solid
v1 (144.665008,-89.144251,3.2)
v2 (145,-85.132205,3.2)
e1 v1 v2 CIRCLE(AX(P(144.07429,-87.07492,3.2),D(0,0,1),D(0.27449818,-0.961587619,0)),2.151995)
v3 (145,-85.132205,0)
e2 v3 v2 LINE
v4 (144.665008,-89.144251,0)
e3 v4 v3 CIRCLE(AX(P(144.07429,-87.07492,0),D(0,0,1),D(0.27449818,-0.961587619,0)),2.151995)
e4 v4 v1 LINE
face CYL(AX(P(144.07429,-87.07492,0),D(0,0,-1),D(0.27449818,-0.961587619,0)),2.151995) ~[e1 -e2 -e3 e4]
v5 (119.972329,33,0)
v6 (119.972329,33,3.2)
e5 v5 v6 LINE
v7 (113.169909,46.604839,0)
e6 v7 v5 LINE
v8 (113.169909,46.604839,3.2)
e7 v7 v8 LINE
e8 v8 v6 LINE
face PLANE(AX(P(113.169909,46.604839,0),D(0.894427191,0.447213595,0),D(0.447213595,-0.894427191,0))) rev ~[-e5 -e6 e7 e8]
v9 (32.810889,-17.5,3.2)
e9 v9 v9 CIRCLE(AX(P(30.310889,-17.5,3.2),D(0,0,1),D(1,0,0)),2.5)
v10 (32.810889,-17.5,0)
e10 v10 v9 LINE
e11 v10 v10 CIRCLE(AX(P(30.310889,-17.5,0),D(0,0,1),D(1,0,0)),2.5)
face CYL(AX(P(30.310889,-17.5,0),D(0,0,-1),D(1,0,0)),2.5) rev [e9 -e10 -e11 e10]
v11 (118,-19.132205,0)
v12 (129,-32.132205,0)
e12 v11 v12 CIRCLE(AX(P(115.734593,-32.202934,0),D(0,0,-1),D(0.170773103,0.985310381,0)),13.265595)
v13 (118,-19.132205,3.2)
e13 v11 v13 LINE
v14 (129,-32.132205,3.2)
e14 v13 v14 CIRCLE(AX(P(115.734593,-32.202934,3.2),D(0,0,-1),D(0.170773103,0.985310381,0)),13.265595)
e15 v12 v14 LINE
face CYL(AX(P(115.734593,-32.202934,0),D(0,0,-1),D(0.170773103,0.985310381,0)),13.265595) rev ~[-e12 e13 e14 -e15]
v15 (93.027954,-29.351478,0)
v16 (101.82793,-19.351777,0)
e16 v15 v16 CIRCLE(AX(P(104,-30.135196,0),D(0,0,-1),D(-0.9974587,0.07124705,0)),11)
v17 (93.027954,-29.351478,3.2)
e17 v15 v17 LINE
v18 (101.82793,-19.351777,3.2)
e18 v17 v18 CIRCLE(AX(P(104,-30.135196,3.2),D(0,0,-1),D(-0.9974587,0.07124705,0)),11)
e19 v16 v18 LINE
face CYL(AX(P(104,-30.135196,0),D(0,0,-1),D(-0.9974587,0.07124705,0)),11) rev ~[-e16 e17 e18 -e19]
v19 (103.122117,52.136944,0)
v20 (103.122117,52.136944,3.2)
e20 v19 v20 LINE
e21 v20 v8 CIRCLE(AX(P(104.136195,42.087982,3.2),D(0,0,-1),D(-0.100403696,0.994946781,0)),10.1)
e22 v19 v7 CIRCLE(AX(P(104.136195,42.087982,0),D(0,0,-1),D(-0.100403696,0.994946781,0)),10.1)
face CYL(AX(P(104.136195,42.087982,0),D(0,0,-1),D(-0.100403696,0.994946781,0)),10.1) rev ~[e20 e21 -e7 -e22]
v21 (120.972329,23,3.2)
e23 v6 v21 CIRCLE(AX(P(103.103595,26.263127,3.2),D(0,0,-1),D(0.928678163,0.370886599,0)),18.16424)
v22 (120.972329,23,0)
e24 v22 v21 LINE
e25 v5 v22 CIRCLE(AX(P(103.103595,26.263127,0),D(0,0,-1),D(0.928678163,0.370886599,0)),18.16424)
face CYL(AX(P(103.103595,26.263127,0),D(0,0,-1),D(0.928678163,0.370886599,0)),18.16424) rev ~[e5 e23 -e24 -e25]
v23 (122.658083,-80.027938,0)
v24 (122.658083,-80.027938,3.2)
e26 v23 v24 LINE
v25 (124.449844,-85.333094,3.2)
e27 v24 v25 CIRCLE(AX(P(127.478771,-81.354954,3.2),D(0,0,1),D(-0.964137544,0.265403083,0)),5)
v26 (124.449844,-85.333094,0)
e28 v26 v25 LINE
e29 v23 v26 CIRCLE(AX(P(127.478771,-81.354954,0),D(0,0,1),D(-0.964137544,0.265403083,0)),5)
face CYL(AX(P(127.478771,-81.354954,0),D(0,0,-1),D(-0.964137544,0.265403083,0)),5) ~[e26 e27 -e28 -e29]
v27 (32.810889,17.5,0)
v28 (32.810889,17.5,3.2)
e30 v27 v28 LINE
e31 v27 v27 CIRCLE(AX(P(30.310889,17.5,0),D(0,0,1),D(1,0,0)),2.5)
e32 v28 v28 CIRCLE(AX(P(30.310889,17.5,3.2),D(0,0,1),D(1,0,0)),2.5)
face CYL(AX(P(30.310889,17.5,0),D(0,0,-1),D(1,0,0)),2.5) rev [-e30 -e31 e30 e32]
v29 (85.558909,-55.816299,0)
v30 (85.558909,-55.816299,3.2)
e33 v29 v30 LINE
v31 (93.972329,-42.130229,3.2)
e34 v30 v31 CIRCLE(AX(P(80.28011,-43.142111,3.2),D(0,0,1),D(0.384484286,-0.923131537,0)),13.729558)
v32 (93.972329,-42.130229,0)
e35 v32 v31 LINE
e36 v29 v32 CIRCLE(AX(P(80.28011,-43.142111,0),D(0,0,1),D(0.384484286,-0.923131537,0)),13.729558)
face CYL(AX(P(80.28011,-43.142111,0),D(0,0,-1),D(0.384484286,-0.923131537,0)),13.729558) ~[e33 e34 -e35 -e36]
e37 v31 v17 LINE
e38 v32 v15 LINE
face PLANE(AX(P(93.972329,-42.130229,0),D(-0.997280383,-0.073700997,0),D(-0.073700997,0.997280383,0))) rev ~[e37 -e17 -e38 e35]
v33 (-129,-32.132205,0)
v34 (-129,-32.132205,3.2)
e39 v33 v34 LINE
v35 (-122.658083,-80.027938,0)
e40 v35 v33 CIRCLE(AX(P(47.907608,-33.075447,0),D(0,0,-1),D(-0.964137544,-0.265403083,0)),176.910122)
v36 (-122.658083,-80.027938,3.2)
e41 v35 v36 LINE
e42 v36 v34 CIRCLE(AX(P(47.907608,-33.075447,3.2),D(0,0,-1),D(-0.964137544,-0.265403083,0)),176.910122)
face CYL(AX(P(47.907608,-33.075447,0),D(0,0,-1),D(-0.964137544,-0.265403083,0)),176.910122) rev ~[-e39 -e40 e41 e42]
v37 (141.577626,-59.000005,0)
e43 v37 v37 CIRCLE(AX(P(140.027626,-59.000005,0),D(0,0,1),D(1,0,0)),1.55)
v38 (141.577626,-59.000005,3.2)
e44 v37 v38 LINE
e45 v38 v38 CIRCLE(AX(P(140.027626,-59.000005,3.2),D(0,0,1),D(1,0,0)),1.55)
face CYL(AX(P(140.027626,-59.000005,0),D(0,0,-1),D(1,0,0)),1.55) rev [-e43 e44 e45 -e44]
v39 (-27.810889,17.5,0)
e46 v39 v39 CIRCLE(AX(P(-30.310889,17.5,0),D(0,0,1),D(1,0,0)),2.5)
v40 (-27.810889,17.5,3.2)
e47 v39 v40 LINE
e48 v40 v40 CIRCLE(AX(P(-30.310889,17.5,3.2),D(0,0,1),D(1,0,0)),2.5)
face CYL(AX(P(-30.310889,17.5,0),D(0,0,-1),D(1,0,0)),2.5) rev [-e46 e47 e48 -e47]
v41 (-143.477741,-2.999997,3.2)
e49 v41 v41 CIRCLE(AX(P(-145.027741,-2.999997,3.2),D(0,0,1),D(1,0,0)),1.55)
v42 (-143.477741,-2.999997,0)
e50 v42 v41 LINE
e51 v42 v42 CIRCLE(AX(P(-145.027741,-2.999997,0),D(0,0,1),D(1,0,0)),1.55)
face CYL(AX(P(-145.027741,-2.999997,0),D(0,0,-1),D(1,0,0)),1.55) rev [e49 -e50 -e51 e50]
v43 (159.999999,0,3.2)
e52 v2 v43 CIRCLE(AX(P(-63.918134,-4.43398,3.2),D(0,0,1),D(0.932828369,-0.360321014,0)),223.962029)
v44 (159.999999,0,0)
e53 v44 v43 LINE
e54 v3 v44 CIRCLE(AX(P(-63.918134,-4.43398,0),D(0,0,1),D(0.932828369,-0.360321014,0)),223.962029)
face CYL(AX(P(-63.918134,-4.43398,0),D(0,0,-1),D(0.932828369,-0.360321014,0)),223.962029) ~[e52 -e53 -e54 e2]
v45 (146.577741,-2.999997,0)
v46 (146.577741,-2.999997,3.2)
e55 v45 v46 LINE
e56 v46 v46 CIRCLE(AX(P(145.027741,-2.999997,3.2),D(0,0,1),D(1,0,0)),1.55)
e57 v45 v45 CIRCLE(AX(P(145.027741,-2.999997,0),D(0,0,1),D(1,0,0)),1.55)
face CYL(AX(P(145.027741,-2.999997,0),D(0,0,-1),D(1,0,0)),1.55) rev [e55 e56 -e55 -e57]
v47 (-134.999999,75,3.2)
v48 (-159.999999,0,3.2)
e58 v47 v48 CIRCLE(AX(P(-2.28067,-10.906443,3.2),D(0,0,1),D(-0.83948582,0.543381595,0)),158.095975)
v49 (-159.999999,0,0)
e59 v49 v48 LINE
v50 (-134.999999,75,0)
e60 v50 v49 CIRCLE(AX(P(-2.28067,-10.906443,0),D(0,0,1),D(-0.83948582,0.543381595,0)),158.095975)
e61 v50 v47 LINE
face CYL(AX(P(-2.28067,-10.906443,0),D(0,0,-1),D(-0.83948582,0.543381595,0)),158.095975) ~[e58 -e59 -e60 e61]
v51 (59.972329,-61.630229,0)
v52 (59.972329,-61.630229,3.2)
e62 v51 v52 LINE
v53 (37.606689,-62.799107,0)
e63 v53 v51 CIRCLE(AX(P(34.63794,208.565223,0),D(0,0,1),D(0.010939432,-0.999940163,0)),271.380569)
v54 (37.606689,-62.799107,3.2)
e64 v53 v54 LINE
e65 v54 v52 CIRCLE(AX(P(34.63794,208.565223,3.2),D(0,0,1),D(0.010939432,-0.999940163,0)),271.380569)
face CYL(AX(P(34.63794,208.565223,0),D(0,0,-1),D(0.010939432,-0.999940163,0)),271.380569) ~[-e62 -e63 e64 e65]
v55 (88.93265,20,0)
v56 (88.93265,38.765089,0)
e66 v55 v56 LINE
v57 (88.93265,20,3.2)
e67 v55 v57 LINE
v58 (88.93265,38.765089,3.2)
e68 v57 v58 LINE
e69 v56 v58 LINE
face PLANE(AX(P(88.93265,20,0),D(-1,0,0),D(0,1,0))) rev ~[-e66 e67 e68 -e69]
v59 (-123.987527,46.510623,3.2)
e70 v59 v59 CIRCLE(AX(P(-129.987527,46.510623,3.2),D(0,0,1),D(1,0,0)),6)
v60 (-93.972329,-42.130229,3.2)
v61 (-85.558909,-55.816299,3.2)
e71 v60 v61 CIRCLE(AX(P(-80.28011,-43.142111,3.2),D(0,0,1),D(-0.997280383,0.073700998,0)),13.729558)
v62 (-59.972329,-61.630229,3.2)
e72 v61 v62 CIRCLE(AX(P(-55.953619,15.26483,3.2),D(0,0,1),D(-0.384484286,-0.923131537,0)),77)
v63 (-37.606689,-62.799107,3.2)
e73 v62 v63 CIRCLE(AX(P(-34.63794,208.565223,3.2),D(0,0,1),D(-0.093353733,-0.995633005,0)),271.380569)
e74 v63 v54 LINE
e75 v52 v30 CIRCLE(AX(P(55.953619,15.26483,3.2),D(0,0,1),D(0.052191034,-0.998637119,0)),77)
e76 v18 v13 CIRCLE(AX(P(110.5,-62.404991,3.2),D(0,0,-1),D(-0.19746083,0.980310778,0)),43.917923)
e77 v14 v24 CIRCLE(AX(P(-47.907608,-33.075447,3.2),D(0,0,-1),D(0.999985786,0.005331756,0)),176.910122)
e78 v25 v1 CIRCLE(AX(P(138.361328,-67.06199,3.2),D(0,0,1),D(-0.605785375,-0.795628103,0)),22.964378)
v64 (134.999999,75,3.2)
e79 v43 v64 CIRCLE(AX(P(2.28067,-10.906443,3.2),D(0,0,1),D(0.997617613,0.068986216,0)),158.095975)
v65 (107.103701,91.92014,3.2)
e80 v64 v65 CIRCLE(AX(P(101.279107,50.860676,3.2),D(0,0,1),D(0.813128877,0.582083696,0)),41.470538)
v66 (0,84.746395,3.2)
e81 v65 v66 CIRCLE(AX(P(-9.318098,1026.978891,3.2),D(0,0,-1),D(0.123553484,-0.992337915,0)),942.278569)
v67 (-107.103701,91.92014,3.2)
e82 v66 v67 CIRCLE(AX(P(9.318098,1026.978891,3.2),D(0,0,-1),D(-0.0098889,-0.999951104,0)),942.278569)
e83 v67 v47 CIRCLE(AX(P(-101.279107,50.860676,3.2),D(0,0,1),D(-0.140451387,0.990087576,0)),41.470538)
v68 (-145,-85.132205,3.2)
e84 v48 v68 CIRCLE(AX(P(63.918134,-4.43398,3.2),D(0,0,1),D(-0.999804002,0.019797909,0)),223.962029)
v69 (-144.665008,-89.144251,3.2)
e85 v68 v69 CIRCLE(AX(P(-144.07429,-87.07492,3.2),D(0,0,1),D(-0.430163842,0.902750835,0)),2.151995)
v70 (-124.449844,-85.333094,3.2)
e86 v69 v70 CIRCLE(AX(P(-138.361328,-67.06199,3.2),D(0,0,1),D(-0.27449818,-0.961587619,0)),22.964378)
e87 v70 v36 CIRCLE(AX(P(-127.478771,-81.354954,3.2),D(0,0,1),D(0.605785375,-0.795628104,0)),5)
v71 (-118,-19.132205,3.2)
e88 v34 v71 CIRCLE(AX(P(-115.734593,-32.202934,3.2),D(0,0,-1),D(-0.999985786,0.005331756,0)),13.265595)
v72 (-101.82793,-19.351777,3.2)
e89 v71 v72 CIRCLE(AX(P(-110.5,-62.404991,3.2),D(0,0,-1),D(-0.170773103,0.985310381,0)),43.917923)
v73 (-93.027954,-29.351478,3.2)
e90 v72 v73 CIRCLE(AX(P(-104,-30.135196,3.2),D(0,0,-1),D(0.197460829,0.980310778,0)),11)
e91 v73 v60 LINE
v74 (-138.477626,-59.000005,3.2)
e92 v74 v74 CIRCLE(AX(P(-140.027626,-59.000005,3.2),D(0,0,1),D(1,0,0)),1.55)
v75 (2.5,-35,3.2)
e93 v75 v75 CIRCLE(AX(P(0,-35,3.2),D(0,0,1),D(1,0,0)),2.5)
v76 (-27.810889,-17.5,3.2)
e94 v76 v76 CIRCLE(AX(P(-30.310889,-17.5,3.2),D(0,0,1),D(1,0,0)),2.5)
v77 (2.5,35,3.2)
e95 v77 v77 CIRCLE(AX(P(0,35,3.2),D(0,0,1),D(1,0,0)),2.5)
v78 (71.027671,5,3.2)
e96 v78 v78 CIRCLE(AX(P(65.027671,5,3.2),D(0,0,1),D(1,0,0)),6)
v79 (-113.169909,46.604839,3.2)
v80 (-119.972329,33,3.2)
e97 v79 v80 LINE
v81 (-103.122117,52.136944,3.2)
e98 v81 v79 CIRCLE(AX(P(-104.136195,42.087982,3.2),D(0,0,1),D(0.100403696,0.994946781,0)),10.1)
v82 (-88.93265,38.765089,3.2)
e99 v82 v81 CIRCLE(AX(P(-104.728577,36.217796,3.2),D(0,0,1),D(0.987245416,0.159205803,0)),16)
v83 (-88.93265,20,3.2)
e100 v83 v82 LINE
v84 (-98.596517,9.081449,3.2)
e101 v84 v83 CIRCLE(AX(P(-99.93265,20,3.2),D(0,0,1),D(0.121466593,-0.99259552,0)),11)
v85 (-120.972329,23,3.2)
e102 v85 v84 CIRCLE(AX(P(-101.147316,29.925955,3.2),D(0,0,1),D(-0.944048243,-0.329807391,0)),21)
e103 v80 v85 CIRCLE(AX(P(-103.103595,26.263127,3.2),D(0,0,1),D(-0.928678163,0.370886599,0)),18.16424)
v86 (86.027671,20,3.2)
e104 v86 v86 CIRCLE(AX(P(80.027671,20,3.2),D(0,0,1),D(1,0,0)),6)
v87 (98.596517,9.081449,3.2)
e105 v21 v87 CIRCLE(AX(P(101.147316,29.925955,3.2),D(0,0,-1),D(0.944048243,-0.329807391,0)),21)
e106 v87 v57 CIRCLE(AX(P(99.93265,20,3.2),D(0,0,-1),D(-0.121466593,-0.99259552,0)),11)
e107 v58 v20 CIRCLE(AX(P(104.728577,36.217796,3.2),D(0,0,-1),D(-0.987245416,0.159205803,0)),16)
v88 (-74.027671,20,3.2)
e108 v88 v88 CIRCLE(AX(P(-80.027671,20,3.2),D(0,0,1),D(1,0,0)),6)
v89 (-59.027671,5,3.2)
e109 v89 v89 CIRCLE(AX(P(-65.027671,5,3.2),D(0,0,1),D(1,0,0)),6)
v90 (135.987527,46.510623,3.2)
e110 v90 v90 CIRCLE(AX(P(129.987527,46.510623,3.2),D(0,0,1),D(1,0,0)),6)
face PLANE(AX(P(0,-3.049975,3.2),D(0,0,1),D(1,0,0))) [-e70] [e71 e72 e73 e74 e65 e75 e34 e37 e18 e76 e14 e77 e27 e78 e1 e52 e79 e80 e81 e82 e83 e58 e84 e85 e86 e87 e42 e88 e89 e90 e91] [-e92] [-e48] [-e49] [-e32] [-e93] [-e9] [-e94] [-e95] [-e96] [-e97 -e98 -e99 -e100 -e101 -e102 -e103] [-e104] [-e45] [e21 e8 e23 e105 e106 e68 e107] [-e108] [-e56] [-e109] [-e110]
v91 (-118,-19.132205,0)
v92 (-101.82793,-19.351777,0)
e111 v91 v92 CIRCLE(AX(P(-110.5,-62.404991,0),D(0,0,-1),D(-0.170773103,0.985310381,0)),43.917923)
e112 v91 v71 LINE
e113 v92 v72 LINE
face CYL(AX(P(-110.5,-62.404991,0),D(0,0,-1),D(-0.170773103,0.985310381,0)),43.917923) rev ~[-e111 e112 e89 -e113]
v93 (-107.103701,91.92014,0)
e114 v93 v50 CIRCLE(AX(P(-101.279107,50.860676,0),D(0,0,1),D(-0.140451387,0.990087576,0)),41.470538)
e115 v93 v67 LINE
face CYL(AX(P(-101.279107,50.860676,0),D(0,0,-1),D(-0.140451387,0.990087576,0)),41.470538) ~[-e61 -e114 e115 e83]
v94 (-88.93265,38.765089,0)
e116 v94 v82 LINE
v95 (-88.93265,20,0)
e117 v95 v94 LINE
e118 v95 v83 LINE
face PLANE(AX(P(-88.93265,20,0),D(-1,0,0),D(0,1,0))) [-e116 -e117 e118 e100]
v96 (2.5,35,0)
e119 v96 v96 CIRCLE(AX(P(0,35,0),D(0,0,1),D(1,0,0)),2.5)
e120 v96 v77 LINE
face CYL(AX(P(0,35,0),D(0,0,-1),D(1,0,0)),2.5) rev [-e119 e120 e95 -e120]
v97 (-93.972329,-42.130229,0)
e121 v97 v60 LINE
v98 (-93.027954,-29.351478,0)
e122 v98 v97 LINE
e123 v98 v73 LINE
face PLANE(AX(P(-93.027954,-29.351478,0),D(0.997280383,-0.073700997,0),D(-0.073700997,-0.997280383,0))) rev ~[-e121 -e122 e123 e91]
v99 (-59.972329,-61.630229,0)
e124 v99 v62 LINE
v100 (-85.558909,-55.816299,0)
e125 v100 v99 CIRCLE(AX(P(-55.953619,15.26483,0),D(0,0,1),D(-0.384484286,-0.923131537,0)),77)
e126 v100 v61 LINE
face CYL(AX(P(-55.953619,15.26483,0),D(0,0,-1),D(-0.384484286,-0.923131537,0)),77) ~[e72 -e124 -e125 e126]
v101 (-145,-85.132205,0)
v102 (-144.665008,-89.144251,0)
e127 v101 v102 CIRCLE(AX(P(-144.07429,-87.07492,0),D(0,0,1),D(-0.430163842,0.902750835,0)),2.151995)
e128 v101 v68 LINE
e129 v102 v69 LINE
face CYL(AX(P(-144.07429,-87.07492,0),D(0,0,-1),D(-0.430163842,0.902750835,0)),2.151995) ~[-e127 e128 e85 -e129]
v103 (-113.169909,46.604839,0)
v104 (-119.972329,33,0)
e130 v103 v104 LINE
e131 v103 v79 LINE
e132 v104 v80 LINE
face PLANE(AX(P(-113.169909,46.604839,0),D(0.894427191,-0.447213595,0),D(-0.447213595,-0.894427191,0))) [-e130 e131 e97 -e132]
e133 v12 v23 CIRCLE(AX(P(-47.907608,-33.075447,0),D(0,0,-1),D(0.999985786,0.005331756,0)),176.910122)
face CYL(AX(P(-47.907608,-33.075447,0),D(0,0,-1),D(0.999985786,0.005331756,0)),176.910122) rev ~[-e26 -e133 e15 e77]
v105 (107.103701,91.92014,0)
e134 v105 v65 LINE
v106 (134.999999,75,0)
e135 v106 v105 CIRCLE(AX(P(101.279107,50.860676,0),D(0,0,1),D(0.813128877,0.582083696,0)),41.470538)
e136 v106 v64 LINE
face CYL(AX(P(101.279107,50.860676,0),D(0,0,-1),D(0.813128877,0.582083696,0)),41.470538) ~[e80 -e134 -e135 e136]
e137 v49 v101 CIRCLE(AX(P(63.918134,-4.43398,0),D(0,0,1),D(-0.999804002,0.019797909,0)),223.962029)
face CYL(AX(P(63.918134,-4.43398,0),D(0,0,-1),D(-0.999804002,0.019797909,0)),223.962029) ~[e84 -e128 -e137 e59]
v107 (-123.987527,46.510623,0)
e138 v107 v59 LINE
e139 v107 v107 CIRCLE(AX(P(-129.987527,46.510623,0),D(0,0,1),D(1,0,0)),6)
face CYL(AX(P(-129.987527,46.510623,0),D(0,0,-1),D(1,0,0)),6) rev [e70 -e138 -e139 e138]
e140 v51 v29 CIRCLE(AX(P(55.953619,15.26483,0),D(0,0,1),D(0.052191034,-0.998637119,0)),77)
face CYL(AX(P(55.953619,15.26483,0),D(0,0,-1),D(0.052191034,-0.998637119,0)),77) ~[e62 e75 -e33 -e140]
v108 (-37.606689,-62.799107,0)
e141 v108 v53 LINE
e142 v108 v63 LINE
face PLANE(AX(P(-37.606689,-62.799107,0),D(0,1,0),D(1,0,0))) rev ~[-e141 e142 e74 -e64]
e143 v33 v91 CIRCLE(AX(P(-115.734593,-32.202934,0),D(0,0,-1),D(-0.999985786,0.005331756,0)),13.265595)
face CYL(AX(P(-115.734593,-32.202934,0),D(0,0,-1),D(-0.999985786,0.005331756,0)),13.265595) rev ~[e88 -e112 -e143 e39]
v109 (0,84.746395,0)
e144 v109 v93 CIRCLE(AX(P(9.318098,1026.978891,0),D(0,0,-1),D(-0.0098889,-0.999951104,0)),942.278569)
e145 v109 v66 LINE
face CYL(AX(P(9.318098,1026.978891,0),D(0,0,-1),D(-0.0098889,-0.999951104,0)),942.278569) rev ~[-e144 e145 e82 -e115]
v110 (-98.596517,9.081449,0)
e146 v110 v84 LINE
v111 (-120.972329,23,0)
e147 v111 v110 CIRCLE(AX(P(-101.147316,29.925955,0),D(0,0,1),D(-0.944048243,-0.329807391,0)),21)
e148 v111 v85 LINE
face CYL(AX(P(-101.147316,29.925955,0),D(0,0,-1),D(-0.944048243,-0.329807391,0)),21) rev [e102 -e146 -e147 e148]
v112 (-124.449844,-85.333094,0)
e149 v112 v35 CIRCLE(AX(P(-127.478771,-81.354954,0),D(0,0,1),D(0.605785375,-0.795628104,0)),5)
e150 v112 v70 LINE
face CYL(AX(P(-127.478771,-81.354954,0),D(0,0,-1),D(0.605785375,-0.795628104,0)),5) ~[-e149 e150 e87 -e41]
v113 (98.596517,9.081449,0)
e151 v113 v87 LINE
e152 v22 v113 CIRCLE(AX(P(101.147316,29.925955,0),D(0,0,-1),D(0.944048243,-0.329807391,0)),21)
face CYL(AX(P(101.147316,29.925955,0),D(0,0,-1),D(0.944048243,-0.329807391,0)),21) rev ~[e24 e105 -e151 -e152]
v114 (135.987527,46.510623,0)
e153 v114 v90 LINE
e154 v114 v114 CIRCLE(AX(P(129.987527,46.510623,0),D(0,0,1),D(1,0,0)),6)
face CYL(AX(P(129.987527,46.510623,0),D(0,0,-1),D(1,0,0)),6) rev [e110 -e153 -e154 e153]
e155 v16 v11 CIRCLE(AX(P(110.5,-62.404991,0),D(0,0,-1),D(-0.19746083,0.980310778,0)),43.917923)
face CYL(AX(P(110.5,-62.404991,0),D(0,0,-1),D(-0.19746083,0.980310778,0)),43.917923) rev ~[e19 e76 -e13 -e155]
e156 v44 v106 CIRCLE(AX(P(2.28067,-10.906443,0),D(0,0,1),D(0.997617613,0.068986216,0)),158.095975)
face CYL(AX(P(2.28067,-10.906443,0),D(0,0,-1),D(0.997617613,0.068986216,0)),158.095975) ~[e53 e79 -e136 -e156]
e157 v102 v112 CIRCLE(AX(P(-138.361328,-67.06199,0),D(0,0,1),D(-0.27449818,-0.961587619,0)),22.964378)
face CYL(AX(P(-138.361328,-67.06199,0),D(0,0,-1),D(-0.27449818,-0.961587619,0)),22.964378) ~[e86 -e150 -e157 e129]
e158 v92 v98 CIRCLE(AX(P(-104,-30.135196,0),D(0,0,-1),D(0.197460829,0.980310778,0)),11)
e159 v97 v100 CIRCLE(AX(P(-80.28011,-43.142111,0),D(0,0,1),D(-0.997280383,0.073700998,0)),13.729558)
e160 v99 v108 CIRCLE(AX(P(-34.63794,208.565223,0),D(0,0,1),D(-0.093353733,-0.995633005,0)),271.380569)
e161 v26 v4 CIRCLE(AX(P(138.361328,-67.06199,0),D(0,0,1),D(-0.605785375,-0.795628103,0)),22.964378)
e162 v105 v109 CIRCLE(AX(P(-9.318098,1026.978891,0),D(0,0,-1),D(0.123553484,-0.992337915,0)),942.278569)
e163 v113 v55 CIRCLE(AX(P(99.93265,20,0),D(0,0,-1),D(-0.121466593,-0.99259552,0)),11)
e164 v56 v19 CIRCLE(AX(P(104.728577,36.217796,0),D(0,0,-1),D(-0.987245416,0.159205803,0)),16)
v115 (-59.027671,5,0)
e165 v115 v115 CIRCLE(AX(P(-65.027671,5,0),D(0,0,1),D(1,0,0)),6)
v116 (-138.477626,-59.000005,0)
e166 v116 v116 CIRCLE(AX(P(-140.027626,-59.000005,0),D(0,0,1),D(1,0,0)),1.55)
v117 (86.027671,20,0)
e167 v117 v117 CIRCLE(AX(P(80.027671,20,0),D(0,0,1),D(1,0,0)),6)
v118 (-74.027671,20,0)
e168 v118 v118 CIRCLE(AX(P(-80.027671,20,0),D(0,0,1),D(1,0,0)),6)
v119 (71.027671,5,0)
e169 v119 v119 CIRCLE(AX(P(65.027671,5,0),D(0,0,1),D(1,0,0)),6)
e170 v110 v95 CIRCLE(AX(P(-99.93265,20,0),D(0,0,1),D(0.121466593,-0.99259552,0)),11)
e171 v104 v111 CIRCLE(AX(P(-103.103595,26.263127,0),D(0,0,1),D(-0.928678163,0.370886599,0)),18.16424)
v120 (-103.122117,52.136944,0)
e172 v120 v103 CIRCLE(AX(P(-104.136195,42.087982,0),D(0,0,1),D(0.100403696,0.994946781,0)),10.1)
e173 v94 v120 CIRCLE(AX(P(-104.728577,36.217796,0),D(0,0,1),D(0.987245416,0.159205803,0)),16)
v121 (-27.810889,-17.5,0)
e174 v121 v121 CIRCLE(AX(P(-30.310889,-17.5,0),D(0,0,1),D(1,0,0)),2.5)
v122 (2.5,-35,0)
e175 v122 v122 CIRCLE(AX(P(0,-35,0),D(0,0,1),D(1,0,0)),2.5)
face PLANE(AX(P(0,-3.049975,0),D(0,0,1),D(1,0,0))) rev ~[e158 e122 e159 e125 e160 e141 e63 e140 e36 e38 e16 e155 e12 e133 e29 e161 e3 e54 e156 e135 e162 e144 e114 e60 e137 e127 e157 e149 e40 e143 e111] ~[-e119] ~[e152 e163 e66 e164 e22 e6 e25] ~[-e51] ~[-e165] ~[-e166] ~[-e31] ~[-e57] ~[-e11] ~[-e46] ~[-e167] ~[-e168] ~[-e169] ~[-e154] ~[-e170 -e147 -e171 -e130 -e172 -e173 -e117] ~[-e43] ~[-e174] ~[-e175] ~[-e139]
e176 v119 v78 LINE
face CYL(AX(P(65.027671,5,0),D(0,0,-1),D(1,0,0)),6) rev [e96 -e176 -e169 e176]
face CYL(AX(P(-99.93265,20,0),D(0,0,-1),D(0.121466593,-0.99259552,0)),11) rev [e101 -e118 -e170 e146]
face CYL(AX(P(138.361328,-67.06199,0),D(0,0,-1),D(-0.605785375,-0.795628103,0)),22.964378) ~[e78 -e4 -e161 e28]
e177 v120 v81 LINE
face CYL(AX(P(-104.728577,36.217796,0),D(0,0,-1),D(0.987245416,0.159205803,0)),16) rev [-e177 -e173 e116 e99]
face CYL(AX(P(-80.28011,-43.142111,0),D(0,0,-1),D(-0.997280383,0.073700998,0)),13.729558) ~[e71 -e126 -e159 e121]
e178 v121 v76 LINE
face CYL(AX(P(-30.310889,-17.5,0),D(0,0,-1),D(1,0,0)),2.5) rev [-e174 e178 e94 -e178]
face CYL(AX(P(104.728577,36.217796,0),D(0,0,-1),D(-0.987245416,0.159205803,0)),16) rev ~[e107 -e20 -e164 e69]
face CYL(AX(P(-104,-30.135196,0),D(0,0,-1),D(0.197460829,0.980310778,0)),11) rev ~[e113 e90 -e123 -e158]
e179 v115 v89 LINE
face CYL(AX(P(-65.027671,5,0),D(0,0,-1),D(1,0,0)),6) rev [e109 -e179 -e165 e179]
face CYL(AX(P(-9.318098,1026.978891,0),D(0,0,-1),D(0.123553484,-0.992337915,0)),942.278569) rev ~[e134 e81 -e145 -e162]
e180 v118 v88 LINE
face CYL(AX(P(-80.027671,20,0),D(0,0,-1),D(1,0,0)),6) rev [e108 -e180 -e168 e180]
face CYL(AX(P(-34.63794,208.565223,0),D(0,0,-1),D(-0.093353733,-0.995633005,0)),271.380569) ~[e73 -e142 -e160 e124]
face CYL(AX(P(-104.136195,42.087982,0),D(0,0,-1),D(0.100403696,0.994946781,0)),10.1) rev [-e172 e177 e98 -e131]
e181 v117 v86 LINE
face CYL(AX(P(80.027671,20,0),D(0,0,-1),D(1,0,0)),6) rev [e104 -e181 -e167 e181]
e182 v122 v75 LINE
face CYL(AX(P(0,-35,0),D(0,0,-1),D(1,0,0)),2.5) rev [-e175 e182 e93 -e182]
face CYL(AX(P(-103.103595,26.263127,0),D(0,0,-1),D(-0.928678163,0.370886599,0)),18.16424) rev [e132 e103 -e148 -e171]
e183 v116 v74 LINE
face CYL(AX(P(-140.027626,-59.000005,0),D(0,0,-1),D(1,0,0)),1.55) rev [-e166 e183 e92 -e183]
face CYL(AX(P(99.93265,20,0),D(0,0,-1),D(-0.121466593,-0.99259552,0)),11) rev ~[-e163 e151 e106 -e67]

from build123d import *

# Parameters (mm, degrees)
SKETCH2_R           = 1.55
SKETCH2_R_2         = 6
SKETCH2_R_3         = 2.5
BOSS_EXTRUDE1_DEPTH = 3.2


with BuildPart() as part:
    # Sketch2 → Boss-Extrude1 (new body)
    with BuildSketch(Plane.XY):
        with BuildLine():
            Line((-37.606688888, -62.799107474), (37.606688888, -62.799107474))
            ThreePointArc((37.606688888, -62.799107474), (48.801571995, -62.445486831), (59.972328875, -61.630228563))
            ThreePointArc((59.972328875, -61.630228563), (73.015089975, -59.821162533), (85.558909279, -55.816298707))
            ThreePointArc((85.558909279, -55.816298707), (91.976349194, -50.332295109), (93.972328875, -42.130228563))
            Line((93.972328875, -42.130228563), (93.027953895, -29.351478281))
            ThreePointArc((93.027953895, -29.351478281), (95.742249073, -22.868177437), (101.827930469, -19.351777277))
            ThreePointArc((101.827930469, -19.351777277), (109.903770401, -18.491114916), (118, -19.132205072))
            ThreePointArc((118, -19.132205072), (125.861366739, -23.634125523), (129, -32.132205072))
            ThreePointArc((129, -32.132205072), (127.471762842, -56.297585918), (122.65808311, -80.027938374))
            ThreePointArc((122.65808311, -80.027938374), (122.741653332, -82.9548656), (124.449843954, -85.333094304))
            ThreePointArc((124.449843954, -85.333094304), (134.106812923, -89.628818458), (144.665008336, -89.144251365))
            ThreePointArc((144.665008336, -89.144251365), (146.218821849, -87.253980838), (145, -85.132205072))
            ThreePointArc((145, -85.132205072), (156.646327108, -43.296671083), (159.999998592, 0))
            ThreePointArc((159.999998592, 0), (152.263680347, 39.087893918), (134.999998592, 75))
            ThreePointArc((134.999998592, 75), (122.785714167, 86.318698338), (107.103701402, 91.920140268))
            ThreePointArc((107.103701402, 91.920140268), (53.654087158, 86.806881933), (0, 84.746395368))
            ThreePointArc((0, 84.746395368), (-53.654087158, 86.806881933), (-107.103701402, 91.920140268))
            ThreePointArc((-107.103701402, 91.920140268), (-122.785714167, 86.318698338), (-134.999998592, 75))
            ThreePointArc((-134.999998592, 75), (-152.263680347, 39.087893918), (-159.999998592, 0))
            ThreePointArc((-159.999998592, 0), (-156.646327108, -43.296671083), (-145, -85.132205072))
            ThreePointArc((-145, -85.132205072), (-146.218821849, -87.253980838), (-144.665008336, -89.144251365))
            ThreePointArc((-144.665008336, -89.144251365), (-134.106812923, -89.628818458), (-124.449843954, -85.333094304))
            ThreePointArc((-124.449843954, -85.333094304), (-122.741653332, -82.9548656), (-122.65808311, -80.027938374))
            ThreePointArc((-122.65808311, -80.027938374), (-127.471762842, -56.297585918), (-129, -32.132205072))
            ThreePointArc((-129, -32.132205072), (-125.861366739, -23.634125523), (-118, -19.132205072))
            ThreePointArc((-118, -19.132205072), (-109.903770401, -18.491114916), (-101.827930469, -19.351777277))
            ThreePointArc((-101.827930469, -19.351777277), (-95.742249073, -22.868177437), (-93.027953895, -29.351478281))
            Line((-93.027953895, -29.351478281), (-93.972328875, -42.130228563))
            ThreePointArc((-93.972328875, -42.130228563), (-91.976349194, -50.332295109), (-85.558909279, -55.816298707))
            ThreePointArc((-85.558909279, -55.816298707), (-73.015089975, -59.821162533), (-59.972328875, -61.630228563))
            ThreePointArc((-59.972328875, -61.630228563), (-48.801571995, -62.445486831), (-37.606688888, -62.799107474))
        make_face()
        with Locations((145.027741118, -2.999996549)):
            Circle(SKETCH2_R, mode=Mode.SUBTRACT)
        with Locations((80.027671125, 20)):
            Circle(SKETCH2_R_2, mode=Mode.SUBTRACT)
        with Locations((140.027625835, -59.000005176)):
            Circle(SKETCH2_R, mode=Mode.SUBTRACT)
        with Locations((129.987526969, 46.510623474)):
            Circle(SKETCH2_R_2, mode=Mode.SUBTRACT)
        with Locations((65.027671125, 5)):
            Circle(SKETCH2_R_2, mode=Mode.SUBTRACT)
        with Locations((0, 35)):
            Circle(SKETCH2_R_3, mode=Mode.SUBTRACT)
        with Locations((30.310889132, 17.5)):
            Circle(SKETCH2_R_3, mode=Mode.SUBTRACT)
        with Locations((30.310889132, -17.5)):
            Circle(SKETCH2_R_3, mode=Mode.SUBTRACT)
        with Locations((0, -35)):
            Circle(SKETCH2_R_3, mode=Mode.SUBTRACT)
        with Locations((-30.310889132, -17.5)):
            Circle(SKETCH2_R_3, mode=Mode.SUBTRACT)
        with Locations((-30.310889132, 17.5)):
            Circle(SKETCH2_R_3, mode=Mode.SUBTRACT)
        with Locations((-65.027671125, 5)):
            Circle(SKETCH2_R_2, mode=Mode.SUBTRACT)
        with Locations((-129.987526969, 46.510623474)):
            Circle(SKETCH2_R_2, mode=Mode.SUBTRACT)
        with Locations((-140.027625835, -59.000005176)):
            Circle(SKETCH2_R, mode=Mode.SUBTRACT)
        with Locations((-80.027671125, 20)):
            Circle(SKETCH2_R_2, mode=Mode.SUBTRACT)
        with Locations((-145.027741118, -2.999996549)):
            Circle(SKETCH2_R, mode=Mode.SUBTRACT)
        with BuildLine():
            Line((88.932649847, 20), (88.932649847, 38.765088603))
            ThreePointArc((88.932649847, 38.765088603), (93.755318616, 47.8620051), (103.122117375, 52.136944261))
            ThreePointArc((103.122117375, 52.136944261), (109.007507929, 50.935597689), (113.169909334, 46.604839083))
            Line((113.169909334, 46.604839083), (119.972328875, 33))
            ThreePointArc((119.972328875, 33), (121.177690194, 28.070536132), (120.972328875, 23))
            ThreePointArc((120.972328875, 23), (112.239255936, 12.094273751), (98.596517329, 9.081449277))
            ThreePointArc((98.596517329, 9.081449277), (91.695615864, 12.709508168), (88.932649847, 20))
        make_face(mode=Mode.SUBTRACT)
        with BuildLine():
            Line((-113.169909334, 46.604839083), (-119.972328875, 33))
            ThreePointArc((-119.972328875, 33), (-121.177690194, 28.070536132), (-120.972328875, 23))
            ThreePointArc((-120.972328875, 23), (-112.239255936, 12.094273751), (-98.596517329, 9.081449277))
            ThreePointArc((-98.596517329, 9.081449277), (-91.695615864, 12.709508168), (-88.932649847, 20))
            Line((-88.932649847, 20), (-88.932649847, 38.765088603))
            ThreePointArc((-88.932649847, 38.765088603), (-93.755318616, 47.8620051), (-103.122117375, 52.136944261))
            ThreePointArc((-103.122117375, 52.136944261), (-109.007507929, 50.935597689), (-113.169909334, 46.604839083))
        make_face(mode=Mode.SUBTRACT)
    extrude(amount=BOSS_EXTRUDE1_DEPTH)


solid = part.part
